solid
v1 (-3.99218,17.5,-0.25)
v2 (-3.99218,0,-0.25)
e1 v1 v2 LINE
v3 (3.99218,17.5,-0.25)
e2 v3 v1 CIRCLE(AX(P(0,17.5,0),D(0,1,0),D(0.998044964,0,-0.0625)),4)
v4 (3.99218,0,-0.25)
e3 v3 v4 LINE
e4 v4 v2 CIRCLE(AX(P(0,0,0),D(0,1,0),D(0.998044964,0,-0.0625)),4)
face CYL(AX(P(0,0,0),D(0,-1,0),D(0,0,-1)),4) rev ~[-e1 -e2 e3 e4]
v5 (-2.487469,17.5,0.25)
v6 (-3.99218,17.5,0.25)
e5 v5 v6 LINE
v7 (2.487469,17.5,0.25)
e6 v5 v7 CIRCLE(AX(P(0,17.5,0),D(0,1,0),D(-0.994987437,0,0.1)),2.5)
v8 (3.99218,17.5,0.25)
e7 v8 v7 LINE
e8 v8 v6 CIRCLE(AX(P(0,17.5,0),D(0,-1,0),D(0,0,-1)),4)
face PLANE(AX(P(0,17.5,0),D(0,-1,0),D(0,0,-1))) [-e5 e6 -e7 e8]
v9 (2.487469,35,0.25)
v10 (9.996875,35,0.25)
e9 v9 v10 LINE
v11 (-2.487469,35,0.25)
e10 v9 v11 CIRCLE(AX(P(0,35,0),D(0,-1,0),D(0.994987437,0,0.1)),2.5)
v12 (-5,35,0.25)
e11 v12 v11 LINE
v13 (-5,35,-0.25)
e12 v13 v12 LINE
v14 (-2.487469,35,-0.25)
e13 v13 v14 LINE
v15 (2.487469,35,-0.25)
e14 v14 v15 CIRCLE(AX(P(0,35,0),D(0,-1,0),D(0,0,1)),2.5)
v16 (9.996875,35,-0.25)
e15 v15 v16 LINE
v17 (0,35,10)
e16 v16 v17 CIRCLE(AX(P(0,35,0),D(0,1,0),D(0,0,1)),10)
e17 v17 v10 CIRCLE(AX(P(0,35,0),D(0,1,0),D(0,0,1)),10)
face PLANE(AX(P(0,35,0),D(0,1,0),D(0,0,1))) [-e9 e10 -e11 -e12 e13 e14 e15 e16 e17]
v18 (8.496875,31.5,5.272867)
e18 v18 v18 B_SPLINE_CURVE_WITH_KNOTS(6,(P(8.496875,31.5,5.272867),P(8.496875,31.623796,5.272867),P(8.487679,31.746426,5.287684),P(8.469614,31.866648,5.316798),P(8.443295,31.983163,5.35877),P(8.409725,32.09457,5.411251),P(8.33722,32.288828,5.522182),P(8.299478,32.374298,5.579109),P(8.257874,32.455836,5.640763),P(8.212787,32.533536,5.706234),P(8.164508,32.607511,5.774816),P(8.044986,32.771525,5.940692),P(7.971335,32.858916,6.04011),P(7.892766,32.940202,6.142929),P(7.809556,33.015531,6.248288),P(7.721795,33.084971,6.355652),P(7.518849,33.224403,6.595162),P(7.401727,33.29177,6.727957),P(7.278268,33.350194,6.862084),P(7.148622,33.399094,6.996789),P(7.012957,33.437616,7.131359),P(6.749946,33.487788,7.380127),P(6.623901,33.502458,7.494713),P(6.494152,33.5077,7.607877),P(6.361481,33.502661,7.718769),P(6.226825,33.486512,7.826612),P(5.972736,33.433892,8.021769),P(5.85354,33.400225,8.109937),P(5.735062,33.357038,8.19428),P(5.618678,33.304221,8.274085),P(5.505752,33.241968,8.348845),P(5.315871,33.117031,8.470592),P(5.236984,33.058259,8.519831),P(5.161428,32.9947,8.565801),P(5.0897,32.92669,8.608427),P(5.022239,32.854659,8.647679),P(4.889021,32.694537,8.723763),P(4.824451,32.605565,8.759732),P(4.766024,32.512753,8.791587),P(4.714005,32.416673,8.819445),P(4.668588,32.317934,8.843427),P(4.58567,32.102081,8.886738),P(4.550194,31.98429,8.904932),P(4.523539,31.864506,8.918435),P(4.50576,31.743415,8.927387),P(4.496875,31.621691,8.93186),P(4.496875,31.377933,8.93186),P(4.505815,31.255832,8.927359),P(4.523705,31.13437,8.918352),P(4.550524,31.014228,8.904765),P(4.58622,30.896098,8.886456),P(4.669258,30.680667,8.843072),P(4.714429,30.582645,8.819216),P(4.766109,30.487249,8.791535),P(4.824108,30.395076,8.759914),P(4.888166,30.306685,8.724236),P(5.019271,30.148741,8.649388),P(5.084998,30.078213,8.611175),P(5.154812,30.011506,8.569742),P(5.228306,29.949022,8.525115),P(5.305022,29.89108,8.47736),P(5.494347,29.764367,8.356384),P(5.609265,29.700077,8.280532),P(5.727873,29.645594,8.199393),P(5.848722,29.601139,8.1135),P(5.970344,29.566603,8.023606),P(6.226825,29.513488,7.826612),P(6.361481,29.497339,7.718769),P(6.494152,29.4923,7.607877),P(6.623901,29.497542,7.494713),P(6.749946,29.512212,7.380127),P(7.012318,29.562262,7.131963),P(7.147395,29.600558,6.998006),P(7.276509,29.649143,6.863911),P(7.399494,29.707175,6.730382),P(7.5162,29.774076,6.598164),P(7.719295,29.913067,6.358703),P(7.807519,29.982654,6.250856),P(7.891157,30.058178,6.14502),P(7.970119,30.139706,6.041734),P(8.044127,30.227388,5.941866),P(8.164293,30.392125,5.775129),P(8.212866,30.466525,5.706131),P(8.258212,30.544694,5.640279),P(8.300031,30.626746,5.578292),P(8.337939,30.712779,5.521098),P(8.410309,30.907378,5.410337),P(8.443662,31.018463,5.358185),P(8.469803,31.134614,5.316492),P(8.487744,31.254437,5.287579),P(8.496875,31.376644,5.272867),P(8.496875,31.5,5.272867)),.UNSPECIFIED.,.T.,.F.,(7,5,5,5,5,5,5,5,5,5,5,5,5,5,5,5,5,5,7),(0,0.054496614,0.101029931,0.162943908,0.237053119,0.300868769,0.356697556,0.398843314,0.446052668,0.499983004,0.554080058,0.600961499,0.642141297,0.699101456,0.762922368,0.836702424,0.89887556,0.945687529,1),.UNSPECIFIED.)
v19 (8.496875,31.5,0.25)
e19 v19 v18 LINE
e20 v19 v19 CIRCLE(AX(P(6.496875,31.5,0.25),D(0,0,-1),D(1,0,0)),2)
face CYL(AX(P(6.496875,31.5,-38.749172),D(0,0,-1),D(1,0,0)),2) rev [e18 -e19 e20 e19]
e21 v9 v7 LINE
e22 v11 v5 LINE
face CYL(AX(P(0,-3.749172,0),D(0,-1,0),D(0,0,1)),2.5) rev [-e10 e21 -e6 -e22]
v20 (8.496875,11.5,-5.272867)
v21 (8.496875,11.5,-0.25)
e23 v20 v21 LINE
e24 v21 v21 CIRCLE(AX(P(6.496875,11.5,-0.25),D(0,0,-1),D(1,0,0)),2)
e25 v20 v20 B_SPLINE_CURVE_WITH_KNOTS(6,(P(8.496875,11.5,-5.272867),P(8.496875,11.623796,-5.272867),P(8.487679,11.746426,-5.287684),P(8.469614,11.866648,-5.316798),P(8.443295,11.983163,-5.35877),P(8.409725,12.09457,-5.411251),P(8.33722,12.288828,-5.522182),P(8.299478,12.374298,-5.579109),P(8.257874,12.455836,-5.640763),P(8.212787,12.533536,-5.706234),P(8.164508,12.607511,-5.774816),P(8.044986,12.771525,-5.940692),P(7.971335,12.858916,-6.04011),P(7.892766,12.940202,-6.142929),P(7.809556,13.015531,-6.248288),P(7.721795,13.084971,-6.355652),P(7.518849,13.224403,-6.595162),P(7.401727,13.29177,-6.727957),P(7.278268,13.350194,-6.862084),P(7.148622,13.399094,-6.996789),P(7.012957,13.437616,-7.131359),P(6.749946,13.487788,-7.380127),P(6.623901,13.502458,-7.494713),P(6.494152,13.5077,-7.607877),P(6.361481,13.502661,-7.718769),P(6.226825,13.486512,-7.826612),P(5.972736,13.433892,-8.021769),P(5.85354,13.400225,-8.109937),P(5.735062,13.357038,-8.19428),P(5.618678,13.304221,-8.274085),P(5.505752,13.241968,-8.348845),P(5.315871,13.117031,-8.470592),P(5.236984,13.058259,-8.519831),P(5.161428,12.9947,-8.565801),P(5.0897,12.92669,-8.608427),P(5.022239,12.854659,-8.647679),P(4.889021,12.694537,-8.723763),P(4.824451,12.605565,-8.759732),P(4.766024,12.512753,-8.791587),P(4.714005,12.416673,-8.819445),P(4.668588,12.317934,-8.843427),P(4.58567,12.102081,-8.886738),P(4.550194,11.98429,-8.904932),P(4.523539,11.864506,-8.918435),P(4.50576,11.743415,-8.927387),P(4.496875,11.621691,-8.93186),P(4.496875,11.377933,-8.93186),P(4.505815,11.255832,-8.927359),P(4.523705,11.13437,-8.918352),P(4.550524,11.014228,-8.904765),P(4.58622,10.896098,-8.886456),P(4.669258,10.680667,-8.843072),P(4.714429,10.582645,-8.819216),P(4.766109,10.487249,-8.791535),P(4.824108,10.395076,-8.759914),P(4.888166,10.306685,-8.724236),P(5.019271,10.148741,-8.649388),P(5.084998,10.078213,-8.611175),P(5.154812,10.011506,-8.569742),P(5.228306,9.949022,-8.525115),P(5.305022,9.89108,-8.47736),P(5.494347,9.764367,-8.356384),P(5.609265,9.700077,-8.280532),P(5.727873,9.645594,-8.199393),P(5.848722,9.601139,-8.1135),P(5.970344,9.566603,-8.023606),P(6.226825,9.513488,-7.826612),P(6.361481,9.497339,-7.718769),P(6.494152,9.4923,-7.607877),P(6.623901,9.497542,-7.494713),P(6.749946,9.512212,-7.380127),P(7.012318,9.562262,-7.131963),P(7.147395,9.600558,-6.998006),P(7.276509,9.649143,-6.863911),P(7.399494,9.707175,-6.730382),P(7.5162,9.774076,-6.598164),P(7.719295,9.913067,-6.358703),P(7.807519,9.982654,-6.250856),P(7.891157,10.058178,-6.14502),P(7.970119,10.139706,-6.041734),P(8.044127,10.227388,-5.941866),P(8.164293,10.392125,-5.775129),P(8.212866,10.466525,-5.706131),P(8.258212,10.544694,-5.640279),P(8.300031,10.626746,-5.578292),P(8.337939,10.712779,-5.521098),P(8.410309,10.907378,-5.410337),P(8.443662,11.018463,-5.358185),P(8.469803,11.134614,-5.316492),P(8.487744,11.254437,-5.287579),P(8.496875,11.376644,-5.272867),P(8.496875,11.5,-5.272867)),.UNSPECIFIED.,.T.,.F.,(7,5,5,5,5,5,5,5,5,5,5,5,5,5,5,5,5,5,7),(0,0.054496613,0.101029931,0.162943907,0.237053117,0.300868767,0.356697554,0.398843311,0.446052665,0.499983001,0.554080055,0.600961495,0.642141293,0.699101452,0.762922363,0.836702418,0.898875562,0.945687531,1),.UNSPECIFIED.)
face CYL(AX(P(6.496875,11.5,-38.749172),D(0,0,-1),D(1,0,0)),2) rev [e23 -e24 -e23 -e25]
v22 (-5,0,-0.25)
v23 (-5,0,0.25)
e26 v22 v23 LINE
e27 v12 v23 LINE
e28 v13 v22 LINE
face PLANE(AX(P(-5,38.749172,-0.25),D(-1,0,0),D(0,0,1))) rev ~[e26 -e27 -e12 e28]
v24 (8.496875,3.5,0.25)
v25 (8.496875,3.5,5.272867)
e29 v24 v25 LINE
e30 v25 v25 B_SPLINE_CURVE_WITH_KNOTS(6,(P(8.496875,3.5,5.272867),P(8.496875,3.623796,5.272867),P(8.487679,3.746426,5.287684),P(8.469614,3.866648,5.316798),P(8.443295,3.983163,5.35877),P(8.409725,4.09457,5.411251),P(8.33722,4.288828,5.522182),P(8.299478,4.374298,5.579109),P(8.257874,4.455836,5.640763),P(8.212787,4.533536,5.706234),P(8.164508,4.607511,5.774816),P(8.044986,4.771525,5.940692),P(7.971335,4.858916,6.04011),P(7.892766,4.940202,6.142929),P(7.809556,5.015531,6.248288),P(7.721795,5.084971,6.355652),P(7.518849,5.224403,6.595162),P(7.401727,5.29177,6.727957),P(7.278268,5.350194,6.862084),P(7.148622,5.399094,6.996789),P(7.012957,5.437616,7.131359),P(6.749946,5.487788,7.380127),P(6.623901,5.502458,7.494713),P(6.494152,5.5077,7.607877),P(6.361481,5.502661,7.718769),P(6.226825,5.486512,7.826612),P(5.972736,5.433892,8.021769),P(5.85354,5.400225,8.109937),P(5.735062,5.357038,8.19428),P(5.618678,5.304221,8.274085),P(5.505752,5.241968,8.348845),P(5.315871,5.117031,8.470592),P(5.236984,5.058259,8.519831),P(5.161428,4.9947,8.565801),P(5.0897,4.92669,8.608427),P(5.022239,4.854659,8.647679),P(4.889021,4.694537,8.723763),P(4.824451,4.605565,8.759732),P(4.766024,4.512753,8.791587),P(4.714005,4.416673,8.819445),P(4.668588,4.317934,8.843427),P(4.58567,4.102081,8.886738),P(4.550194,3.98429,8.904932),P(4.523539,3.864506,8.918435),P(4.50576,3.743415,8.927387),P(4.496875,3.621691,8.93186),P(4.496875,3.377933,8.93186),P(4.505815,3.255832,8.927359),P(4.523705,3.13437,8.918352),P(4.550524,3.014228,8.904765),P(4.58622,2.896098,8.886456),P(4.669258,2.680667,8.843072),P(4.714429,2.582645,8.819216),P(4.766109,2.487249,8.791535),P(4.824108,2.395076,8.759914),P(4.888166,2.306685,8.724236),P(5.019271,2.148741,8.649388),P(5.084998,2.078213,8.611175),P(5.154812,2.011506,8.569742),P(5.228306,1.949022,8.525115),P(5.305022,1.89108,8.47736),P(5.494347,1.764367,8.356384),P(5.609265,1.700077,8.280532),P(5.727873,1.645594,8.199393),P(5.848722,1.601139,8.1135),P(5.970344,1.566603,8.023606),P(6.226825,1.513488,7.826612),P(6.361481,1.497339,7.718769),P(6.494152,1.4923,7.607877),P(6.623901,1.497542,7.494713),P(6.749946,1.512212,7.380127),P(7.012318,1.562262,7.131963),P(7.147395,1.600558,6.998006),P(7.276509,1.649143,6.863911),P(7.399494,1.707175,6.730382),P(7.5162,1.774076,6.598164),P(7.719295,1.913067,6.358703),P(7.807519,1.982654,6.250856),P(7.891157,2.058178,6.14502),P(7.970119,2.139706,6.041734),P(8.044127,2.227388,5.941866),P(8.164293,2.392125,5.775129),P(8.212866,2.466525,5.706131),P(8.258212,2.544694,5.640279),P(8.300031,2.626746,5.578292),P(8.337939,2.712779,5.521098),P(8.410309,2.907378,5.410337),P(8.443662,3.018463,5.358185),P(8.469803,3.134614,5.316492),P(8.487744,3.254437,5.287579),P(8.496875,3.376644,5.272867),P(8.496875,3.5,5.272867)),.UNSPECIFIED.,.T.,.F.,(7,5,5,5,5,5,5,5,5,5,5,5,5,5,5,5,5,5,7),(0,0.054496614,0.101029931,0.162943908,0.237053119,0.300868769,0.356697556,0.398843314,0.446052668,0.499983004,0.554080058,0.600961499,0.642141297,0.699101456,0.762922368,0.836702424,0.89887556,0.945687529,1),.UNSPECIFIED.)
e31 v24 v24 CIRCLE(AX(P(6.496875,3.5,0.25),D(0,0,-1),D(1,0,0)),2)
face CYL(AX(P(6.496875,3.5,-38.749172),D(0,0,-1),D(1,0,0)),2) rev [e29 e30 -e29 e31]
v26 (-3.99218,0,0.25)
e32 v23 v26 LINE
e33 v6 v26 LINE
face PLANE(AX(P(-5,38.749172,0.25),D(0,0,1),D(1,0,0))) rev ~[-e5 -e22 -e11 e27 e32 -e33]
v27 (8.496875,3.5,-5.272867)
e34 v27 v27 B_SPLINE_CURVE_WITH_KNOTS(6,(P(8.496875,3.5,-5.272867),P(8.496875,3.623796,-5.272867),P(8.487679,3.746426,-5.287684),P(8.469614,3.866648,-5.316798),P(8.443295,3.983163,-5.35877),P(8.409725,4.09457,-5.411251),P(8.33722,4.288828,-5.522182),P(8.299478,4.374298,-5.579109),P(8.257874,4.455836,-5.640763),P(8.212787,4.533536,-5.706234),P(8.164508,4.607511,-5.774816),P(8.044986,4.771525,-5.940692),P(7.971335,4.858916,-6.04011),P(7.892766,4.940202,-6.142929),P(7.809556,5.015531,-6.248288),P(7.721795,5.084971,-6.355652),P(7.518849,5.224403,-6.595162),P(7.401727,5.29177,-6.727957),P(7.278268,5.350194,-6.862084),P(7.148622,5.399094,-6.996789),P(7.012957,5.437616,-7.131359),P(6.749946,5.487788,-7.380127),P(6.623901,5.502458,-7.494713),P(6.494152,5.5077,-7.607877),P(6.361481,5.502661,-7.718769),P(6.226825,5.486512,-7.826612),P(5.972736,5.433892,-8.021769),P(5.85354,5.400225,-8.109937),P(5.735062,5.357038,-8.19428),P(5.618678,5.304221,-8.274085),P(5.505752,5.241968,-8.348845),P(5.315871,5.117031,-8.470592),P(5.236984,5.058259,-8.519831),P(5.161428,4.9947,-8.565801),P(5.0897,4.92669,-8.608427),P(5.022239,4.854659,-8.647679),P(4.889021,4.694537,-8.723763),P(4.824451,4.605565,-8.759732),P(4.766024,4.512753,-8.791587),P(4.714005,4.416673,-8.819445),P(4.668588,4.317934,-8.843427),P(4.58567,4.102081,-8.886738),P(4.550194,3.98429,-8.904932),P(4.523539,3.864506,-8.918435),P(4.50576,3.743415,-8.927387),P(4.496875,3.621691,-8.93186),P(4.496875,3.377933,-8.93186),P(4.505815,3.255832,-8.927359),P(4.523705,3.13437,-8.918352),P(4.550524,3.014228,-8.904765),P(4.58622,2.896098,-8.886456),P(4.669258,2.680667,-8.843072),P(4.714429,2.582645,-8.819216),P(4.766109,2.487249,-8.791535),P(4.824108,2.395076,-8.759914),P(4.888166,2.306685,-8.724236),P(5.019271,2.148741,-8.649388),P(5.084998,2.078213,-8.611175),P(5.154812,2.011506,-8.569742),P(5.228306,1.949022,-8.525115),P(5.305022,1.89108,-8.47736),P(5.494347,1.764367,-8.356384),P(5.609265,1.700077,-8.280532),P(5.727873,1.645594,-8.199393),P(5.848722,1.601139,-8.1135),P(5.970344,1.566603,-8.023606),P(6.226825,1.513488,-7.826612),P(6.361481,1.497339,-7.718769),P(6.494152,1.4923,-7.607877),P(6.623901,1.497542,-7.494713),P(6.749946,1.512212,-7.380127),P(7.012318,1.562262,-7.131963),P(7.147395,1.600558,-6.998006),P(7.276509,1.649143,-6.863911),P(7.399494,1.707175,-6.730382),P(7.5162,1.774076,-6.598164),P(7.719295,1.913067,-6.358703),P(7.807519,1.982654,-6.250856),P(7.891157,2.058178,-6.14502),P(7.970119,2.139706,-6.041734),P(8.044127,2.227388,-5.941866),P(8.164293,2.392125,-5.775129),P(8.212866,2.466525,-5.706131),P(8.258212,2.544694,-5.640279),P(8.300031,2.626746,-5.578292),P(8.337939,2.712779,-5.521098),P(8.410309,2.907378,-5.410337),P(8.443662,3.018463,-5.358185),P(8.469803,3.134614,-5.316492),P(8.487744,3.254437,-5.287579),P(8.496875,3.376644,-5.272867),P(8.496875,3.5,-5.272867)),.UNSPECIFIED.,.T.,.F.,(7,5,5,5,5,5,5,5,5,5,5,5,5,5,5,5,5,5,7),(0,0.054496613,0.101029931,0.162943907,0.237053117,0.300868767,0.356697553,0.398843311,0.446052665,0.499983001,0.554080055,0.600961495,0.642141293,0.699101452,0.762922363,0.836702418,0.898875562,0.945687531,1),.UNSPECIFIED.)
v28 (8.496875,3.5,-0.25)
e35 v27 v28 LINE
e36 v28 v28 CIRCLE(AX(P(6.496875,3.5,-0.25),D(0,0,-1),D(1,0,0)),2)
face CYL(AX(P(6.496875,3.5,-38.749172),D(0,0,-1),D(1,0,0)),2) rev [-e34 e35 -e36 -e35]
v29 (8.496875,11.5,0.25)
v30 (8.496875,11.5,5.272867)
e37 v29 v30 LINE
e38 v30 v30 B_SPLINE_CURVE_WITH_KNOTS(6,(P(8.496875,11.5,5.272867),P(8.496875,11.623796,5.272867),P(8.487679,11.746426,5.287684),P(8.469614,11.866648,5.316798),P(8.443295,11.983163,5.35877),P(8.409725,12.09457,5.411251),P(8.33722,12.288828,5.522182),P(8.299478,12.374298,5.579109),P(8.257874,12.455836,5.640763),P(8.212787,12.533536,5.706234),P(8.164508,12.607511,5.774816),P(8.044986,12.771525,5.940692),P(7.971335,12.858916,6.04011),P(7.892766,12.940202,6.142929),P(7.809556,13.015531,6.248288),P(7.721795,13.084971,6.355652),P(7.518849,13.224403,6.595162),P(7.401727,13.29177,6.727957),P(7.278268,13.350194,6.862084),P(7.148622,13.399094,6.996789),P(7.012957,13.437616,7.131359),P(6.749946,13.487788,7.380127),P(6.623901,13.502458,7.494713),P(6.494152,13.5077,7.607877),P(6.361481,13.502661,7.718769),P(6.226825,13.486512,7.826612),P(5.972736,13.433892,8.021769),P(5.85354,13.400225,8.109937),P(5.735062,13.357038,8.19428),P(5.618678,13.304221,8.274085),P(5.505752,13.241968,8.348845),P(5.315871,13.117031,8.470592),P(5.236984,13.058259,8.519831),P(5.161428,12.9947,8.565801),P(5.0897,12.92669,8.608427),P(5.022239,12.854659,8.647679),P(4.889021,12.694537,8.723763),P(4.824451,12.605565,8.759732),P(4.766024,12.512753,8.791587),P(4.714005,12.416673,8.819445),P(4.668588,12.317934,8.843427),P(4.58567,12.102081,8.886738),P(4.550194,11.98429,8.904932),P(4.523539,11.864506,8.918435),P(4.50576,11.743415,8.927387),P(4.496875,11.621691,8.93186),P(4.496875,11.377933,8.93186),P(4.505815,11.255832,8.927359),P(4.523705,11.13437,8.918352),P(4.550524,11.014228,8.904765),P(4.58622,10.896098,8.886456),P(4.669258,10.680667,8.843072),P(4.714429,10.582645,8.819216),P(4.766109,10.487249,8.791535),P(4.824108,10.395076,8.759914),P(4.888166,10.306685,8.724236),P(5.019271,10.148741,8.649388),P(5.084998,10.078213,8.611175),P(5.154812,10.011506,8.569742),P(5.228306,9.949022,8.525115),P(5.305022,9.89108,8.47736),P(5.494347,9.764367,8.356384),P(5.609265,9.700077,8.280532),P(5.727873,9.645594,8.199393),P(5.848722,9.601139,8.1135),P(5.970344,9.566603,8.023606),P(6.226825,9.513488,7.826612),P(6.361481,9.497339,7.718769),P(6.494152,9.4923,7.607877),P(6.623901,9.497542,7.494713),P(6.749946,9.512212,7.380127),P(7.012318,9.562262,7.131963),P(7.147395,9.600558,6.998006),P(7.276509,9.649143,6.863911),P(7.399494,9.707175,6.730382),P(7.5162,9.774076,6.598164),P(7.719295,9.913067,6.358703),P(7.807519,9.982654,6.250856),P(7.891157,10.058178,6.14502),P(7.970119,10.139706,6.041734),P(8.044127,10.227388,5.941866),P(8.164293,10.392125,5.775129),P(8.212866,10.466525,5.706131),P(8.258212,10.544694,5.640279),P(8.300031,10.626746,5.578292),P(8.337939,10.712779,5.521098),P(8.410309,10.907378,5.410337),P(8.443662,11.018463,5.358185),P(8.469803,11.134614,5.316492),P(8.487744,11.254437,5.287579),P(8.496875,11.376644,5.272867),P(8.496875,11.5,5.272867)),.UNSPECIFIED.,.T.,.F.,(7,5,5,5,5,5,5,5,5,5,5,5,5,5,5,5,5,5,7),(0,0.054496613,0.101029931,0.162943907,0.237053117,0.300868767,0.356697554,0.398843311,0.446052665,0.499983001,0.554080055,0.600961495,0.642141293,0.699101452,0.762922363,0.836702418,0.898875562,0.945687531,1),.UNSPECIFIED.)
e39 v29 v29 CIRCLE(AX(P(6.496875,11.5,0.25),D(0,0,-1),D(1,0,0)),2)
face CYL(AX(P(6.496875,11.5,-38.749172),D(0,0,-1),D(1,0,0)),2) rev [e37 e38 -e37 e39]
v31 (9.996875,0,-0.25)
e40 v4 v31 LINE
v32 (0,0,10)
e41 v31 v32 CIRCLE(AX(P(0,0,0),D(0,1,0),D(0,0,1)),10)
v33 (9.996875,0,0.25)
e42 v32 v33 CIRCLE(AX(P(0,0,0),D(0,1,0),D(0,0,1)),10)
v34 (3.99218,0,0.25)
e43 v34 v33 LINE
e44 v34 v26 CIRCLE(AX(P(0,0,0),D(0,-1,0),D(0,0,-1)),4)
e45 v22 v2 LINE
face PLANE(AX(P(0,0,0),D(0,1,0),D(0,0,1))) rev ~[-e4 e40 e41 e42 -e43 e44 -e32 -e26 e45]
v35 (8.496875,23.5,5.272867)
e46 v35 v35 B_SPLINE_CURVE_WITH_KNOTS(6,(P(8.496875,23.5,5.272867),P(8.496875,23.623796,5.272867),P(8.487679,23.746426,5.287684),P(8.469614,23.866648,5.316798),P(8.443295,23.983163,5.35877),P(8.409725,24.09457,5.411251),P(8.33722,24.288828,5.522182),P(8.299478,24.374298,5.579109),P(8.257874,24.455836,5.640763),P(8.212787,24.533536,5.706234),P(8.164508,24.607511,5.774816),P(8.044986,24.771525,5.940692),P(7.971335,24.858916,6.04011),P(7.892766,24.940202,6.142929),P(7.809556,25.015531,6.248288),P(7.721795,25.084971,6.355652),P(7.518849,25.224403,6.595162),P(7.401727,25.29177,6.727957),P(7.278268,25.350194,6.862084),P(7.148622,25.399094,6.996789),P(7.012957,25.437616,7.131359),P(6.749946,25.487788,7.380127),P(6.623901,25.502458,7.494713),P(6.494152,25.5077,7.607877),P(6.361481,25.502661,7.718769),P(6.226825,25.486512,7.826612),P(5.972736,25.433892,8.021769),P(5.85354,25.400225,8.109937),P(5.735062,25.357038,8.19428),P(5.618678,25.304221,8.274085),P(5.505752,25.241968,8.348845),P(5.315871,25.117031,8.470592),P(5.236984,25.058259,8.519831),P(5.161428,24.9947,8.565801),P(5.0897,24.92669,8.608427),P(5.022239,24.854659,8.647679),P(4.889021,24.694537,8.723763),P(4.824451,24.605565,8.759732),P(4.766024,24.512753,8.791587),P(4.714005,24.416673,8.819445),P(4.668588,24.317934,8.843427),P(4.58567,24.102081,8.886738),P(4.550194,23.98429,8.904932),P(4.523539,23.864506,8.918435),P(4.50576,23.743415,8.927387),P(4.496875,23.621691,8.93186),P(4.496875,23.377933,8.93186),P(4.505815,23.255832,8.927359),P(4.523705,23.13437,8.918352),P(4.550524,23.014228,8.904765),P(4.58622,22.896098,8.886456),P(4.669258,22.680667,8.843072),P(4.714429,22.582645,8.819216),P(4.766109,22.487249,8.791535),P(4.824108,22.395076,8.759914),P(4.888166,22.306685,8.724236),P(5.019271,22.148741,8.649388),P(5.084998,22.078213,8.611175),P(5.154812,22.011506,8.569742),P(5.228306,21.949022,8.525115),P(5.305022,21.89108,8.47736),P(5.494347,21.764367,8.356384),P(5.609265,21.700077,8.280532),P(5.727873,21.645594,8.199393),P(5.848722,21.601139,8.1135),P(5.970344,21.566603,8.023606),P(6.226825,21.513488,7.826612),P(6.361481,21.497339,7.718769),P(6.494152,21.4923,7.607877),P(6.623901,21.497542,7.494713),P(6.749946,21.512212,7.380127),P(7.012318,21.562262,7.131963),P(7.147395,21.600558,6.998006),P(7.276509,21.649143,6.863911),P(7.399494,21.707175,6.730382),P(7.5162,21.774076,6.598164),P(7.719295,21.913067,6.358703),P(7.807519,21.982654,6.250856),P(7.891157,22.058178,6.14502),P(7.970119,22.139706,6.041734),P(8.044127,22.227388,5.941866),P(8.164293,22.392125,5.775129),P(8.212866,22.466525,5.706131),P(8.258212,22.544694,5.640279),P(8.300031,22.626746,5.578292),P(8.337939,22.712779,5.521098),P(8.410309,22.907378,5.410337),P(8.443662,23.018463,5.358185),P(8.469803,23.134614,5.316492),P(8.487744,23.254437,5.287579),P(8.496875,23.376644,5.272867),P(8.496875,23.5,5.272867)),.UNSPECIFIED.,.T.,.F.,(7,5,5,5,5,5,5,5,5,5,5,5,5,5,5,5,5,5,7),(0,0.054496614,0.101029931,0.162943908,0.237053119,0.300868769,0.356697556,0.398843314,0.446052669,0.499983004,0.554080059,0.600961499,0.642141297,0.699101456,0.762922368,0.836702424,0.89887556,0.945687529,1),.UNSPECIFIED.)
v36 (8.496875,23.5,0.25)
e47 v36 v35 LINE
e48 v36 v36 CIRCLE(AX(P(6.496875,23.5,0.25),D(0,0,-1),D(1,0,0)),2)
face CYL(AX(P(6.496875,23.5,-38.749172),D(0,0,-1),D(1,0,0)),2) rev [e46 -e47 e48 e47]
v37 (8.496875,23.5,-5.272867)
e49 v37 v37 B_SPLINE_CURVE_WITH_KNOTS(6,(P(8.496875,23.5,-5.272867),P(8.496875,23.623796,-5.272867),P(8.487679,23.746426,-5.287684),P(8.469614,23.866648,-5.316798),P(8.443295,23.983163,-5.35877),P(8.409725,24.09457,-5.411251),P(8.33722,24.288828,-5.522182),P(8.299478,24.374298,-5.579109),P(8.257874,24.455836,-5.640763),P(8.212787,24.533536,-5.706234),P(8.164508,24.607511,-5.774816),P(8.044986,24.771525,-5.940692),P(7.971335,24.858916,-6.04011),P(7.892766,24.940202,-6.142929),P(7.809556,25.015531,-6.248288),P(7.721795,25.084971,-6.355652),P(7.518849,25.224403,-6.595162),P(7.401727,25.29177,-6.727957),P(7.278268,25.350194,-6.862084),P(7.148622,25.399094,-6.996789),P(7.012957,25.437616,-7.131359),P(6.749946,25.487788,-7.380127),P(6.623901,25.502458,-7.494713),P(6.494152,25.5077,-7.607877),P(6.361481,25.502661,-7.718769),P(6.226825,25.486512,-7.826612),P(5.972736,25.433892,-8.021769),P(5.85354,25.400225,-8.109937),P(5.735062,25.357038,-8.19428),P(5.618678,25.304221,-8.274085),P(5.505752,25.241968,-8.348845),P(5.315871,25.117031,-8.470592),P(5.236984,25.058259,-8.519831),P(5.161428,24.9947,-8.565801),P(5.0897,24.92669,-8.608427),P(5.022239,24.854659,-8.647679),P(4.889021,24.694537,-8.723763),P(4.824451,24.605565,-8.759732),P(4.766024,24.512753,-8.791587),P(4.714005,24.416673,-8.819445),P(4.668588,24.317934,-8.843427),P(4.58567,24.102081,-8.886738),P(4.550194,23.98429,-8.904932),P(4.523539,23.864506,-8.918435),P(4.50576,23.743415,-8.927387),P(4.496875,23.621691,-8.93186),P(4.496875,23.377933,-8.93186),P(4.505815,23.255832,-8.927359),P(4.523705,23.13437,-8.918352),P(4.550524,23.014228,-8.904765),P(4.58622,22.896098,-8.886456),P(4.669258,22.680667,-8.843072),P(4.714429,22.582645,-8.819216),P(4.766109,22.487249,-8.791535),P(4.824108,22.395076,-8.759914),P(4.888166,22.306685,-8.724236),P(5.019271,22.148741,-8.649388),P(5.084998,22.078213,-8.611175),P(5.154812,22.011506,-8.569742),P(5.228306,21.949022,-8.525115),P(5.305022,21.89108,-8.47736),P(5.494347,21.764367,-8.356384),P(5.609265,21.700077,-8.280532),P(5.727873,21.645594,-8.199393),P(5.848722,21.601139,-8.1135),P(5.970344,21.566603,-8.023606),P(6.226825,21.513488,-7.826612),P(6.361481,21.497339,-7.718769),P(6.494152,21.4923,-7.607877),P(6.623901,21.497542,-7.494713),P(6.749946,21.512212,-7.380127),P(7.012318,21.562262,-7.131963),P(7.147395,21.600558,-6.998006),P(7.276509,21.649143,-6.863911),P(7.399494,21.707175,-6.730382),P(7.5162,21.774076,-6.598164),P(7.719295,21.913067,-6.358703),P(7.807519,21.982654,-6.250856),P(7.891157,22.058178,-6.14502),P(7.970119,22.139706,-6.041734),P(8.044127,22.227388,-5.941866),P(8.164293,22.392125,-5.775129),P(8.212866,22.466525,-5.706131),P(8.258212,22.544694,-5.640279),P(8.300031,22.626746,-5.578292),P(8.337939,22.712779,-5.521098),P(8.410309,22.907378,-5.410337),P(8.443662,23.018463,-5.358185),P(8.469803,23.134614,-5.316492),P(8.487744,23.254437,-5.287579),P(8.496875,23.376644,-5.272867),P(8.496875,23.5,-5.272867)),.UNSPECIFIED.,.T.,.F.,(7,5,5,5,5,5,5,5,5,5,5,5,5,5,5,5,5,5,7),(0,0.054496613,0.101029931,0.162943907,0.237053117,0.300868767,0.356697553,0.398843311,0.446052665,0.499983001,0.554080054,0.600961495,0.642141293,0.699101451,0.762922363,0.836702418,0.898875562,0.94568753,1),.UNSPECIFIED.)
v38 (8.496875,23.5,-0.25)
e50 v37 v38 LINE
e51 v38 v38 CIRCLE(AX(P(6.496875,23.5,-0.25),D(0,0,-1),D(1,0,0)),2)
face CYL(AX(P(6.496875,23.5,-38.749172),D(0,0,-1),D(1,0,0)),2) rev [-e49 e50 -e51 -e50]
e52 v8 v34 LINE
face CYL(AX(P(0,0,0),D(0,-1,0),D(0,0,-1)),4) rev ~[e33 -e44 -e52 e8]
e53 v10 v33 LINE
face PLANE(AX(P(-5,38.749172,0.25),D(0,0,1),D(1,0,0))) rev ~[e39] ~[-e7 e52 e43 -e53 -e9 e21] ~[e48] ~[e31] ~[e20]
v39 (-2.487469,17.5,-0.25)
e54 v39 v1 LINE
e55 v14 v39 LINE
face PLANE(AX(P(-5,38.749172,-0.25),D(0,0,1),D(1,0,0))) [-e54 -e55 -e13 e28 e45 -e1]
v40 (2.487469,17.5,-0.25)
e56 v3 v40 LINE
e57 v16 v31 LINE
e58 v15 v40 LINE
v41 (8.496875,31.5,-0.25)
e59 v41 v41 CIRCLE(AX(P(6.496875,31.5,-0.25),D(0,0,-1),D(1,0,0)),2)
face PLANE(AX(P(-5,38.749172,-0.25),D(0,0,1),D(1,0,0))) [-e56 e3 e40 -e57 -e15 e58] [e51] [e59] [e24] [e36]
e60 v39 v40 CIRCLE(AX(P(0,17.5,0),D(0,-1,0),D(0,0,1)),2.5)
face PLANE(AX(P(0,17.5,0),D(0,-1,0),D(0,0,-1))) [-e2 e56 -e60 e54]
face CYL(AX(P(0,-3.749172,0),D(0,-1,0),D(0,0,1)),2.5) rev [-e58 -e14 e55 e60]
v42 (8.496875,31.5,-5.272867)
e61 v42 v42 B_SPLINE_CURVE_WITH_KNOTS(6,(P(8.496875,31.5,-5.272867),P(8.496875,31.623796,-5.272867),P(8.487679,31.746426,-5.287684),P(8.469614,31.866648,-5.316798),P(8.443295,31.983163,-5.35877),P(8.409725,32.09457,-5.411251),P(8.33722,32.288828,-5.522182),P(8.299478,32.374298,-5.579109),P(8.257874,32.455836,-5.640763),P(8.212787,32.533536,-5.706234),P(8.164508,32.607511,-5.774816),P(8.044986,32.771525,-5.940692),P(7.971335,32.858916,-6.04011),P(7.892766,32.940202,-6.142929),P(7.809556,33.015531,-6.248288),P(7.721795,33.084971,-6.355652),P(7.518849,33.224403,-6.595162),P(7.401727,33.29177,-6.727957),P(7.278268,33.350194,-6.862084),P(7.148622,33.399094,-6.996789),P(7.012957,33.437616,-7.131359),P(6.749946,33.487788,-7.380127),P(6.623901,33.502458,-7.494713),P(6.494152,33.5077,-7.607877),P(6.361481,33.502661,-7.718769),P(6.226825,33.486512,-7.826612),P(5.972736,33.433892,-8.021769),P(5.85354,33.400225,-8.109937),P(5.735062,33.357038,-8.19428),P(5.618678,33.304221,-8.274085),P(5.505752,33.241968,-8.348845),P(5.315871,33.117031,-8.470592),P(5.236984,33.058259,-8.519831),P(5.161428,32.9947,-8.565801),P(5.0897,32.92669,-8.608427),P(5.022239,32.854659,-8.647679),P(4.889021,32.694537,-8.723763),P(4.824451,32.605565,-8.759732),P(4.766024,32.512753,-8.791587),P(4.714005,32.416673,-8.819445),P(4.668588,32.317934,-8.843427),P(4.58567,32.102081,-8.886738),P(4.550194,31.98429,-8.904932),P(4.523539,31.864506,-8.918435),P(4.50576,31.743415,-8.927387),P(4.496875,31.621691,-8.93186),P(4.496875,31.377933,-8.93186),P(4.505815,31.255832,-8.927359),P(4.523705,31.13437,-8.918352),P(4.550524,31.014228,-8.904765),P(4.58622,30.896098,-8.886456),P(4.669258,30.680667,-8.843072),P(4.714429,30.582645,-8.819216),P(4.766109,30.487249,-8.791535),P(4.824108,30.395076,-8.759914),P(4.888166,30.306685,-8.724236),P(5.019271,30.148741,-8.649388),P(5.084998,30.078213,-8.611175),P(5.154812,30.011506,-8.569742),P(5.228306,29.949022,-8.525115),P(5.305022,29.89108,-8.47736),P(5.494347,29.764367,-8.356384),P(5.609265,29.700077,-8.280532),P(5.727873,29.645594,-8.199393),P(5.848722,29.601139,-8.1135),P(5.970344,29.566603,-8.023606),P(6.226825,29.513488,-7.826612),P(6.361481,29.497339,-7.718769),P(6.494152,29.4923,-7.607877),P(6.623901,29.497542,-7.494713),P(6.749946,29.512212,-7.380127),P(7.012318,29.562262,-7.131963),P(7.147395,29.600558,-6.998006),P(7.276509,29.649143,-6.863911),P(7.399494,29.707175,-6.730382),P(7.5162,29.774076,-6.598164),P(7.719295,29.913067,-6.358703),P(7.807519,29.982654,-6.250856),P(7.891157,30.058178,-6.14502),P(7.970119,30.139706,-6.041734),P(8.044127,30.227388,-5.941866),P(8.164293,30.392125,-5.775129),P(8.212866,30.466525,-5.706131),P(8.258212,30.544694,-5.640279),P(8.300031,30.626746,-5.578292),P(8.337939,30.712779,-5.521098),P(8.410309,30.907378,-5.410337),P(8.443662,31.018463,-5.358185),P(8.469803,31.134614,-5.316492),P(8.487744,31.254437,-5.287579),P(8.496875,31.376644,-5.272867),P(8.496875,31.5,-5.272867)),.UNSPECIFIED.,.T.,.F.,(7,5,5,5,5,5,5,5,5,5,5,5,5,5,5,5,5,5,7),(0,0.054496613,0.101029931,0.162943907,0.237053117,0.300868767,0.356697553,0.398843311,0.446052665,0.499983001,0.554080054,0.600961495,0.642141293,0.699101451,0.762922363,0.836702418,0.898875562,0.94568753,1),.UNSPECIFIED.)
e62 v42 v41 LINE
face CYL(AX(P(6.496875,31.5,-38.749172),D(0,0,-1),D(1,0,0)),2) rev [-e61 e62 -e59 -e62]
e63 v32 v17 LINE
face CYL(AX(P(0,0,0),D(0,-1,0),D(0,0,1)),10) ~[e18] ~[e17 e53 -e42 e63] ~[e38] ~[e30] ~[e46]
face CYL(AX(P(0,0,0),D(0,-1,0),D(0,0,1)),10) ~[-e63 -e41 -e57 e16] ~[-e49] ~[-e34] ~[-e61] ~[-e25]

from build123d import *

# Parameters (mm, degrees)
SKETCH1_R               = 10
BOSS_EXTRUDE1_DEPTH     = 35
CUT_EXTRUDE1_DEPTH      = 38.749172176
CUT_EXTRUDE1_DEPTH_BACK = 38.749172176
SKETCH2_R               = 2.5
SKETCH3_R               = 4
CUT_EXTRUDE2_DEPTH      = 17.5
CUT_EXTRUDE3_DEPTH      = 38.749172176
CUT_EXTRUDE3_DEPTH_BACK = 38.749172176
SKETCH4_W               = 15
SKETCH4_H               = 0.5
CUT_EXTRUDE4_DEPTH      = 38.749172176
CUT_EXTRUDE4_DEPTH_BACK = 38.749172176
SKETCH5_R               = 2


with BuildPart() as part:
    # Sketch1 → Boss-Extrude1 (new body)
    with BuildSketch(Plane(origin=(0, 0, 0), x_dir=(1, 0, 0), z_dir=(0, 1, 0))):
        with Locations(Location((0, 0, 0), (0, 0, 270))):
            Circle(SKETCH1_R)
    extrude(amount=BOSS_EXTRUDE1_DEPTH)

    # Sketch2 → Cut-Extrude1 (cut, two sides: drawn at the far end of the back side and taken through both)
    with BuildSketch(Plane(origin=(0, 35, 0), x_dir=(1, 0, 0), z_dir=(0, 1, 0)).offset(-CUT_EXTRUDE1_DEPTH_BACK)):
        with Locations(Location((0, 0, 0), (0, 0, 270))):
            Circle(SKETCH2_R)
    extrude(amount=CUT_EXTRUDE1_DEPTH + CUT_EXTRUDE1_DEPTH_BACK, mode=Mode.SUBTRACT)

    # Sketch3 → Cut-Extrude2 (cut)
    with BuildSketch(Plane.XZ):
        with Locations(Location((0, 0, 0), (0, 0, 270))):
            Circle(SKETCH3_R)
    extrude(amount=-CUT_EXTRUDE2_DEPTH, mode=Mode.SUBTRACT)

    # Sketch4 → Cut-Extrude3 (cut, two sides: drawn at the far end of the back side and taken through both)
    with BuildSketch(Plane.XZ.offset(-CUT_EXTRUDE3_DEPTH_BACK)):
        with Locations((2.5, 0)):
            Rectangle(SKETCH4_W, SKETCH4_H)
    extrude(amount=CUT_EXTRUDE3_DEPTH + CUT_EXTRUDE3_DEPTH_BACK, mode=Mode.SUBTRACT)

    # Sketch5 → Cut-Extrude4 (cut, two sides: drawn at the far end of the back side and taken through both)
    with BuildSketch(Plane.XY.offset(-CUT_EXTRUDE4_DEPTH_BACK)):
        with Locations((6.496874512, 31.5)):
            Circle(SKETCH5_R)
        with Locations((6.496874512, 23.5)):
            Circle(SKETCH5_R)
        with Locations((6.496874512, 11.5)):
            Circle(SKETCH5_R)
        with Locations((6.496874512, 3.5)):
            Circle(SKETCH5_R)
    extrude(amount=CUT_EXTRUDE4_DEPTH + CUT_EXTRUDE4_DEPTH_BACK, mode=Mode.SUBTRACT)


solid = part.part
